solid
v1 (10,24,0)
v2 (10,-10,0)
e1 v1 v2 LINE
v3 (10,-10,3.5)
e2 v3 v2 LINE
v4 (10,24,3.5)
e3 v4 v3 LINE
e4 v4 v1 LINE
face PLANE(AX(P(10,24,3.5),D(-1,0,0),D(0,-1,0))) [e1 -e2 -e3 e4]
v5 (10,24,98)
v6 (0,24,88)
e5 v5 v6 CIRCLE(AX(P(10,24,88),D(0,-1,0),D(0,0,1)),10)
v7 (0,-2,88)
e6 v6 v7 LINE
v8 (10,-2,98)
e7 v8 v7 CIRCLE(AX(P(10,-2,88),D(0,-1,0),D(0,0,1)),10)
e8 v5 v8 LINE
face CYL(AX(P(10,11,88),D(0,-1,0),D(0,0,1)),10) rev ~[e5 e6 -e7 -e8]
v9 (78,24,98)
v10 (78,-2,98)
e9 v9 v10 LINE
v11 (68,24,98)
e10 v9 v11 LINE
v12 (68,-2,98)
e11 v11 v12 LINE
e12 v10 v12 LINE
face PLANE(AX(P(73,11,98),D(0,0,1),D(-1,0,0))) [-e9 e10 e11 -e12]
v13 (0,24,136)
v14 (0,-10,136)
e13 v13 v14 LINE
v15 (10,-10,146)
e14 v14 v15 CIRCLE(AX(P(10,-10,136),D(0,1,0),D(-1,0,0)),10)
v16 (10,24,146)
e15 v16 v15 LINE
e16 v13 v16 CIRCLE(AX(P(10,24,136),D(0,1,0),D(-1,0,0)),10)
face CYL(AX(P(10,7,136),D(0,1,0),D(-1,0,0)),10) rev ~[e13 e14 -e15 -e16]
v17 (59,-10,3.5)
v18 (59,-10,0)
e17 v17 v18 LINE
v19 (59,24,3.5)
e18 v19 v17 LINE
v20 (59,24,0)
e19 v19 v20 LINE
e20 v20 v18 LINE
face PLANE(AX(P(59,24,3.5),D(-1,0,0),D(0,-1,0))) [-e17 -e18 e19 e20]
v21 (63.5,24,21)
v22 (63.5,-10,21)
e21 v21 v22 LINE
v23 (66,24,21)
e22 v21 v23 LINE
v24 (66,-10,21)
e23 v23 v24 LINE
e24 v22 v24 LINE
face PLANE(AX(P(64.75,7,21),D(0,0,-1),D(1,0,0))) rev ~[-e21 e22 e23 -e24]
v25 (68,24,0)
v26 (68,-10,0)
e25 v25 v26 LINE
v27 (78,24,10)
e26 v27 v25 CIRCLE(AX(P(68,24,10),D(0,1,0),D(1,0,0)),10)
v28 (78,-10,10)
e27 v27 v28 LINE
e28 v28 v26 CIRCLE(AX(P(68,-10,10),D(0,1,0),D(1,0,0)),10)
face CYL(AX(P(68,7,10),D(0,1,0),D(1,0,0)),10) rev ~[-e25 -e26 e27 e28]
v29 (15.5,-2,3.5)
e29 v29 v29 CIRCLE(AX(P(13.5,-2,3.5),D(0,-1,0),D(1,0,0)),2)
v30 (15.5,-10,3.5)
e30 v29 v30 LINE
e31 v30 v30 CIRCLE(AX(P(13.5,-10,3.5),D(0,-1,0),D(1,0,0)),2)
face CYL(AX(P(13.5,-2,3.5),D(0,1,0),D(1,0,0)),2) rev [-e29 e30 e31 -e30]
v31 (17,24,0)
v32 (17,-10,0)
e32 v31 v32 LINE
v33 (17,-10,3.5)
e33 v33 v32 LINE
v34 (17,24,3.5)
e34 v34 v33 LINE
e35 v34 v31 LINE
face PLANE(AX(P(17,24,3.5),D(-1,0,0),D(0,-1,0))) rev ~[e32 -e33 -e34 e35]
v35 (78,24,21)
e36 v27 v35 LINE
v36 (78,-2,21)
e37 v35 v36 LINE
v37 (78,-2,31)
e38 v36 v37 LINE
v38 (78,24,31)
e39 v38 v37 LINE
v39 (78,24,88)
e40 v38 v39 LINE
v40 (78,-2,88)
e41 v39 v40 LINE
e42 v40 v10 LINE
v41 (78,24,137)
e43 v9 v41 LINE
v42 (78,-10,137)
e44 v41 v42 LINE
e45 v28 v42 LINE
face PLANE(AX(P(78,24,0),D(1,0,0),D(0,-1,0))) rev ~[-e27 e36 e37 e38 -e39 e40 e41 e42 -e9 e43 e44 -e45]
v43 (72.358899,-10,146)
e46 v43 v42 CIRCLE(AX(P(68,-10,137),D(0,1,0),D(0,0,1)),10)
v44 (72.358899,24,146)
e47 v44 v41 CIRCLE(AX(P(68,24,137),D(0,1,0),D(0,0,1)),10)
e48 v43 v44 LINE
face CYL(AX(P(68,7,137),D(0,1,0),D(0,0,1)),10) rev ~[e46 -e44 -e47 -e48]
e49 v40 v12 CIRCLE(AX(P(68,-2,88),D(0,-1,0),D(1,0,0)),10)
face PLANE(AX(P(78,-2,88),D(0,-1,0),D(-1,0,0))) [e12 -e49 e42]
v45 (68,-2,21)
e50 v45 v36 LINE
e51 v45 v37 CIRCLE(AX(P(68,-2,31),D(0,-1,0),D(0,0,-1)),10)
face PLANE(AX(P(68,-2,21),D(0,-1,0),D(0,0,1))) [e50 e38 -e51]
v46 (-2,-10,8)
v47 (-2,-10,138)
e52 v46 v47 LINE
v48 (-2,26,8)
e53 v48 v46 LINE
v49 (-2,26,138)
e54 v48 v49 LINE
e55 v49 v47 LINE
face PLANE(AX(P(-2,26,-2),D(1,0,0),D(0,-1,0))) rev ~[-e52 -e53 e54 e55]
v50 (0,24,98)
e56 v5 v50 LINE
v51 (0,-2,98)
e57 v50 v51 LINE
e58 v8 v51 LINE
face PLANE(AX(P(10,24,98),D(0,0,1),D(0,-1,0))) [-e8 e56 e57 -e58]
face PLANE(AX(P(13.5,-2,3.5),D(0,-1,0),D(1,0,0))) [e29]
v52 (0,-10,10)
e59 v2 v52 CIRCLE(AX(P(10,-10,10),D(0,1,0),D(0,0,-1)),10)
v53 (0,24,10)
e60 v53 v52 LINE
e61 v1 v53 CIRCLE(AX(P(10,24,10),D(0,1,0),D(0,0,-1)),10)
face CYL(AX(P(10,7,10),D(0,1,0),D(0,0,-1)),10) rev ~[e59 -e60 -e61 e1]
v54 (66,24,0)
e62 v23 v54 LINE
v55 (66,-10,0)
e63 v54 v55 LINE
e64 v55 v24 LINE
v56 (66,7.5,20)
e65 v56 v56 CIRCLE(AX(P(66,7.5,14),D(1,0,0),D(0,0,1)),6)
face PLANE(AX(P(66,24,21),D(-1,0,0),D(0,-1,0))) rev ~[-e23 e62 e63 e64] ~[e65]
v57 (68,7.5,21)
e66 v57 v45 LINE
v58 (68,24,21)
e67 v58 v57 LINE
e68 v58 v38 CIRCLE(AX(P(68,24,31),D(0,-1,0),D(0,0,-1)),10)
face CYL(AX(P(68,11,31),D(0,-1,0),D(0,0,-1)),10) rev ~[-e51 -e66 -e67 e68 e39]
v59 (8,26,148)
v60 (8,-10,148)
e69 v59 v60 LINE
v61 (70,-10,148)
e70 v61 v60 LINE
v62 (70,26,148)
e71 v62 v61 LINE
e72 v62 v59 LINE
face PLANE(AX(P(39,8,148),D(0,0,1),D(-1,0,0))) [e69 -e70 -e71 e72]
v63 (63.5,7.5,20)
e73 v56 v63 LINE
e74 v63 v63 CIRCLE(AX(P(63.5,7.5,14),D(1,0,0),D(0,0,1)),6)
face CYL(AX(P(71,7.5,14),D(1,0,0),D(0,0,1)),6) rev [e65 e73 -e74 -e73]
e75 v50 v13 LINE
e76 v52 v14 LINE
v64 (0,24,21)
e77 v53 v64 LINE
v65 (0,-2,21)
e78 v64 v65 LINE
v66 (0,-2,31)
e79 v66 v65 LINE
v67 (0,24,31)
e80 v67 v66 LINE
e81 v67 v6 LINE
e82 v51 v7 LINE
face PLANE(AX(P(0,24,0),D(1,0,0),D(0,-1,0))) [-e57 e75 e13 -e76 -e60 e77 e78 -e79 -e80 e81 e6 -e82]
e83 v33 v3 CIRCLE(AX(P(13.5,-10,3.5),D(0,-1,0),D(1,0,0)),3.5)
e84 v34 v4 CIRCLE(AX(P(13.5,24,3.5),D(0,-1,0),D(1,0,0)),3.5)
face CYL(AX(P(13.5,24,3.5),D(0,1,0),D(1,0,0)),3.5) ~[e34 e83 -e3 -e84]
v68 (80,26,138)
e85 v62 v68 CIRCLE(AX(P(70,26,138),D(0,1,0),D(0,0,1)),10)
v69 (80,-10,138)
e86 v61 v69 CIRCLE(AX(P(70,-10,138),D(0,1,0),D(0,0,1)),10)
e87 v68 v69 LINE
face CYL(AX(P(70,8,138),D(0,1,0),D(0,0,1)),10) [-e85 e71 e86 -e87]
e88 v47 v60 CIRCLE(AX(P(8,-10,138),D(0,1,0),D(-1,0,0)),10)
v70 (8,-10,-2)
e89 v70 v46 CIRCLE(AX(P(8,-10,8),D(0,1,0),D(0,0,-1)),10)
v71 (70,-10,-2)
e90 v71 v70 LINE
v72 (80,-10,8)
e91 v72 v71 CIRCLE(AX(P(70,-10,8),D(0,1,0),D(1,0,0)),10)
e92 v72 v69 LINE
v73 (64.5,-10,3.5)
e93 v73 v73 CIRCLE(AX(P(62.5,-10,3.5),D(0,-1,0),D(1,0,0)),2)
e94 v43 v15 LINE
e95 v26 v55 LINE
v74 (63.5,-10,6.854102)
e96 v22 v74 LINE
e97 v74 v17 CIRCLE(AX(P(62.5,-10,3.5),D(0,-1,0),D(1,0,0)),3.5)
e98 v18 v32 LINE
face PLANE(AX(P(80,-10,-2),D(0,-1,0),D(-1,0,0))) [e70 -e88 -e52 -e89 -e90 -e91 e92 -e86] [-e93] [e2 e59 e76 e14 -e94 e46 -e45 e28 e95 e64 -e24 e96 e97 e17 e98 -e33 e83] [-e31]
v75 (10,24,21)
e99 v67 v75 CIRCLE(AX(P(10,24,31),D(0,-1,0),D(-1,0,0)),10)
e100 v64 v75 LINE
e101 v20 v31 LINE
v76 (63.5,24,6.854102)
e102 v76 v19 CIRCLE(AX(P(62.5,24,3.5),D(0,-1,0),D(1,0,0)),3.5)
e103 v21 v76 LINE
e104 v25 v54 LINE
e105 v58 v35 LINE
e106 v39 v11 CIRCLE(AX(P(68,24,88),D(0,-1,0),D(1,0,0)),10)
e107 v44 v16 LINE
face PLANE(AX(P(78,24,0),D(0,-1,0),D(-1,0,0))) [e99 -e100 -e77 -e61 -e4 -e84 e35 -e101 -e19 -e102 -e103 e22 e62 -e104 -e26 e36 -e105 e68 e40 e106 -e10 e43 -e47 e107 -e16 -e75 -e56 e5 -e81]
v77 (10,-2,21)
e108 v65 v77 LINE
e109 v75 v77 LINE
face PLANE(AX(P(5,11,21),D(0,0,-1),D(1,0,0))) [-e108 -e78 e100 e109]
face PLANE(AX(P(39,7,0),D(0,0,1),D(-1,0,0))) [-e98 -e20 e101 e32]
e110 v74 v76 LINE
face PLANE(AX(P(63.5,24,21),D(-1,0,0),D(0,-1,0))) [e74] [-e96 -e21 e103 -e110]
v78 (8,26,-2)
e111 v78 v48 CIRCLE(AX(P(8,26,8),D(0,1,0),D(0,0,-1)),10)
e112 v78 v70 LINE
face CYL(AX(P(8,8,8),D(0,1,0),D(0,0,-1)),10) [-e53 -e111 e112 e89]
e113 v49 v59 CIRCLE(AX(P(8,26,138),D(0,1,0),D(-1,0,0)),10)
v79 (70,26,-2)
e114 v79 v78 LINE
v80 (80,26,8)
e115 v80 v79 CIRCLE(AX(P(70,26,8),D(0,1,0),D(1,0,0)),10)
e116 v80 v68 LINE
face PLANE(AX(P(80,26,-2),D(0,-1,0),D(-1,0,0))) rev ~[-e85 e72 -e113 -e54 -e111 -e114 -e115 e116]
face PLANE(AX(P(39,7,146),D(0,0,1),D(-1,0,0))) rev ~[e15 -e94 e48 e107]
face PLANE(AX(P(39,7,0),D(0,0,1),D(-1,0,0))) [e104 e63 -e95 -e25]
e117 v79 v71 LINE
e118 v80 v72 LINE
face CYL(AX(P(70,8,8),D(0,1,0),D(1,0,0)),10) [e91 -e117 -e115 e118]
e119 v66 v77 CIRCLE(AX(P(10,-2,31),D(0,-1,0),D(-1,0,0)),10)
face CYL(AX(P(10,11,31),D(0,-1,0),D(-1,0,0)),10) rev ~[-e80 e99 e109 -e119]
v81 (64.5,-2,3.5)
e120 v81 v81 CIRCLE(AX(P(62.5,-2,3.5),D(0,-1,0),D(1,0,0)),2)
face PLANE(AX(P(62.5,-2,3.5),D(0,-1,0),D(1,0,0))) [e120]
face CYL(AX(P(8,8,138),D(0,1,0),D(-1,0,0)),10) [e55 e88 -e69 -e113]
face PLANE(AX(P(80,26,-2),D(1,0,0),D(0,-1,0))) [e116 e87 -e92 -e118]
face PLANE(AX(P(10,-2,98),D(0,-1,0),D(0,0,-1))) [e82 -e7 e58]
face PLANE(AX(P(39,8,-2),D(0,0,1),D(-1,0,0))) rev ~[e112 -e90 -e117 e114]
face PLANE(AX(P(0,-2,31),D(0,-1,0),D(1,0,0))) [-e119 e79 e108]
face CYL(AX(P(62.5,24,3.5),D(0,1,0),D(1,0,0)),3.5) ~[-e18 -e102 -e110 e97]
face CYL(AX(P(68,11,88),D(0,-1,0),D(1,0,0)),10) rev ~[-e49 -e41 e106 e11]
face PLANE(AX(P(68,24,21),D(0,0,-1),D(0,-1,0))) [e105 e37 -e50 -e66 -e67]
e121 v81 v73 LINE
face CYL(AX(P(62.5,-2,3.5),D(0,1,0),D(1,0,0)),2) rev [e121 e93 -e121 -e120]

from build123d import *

# Parameters (mm, degrees)
CYLINDER022_R             = 2
CYLINDER022_DEPTH         = 8
CYLINDER026_R             = 7
CYLINDER026_DEPTH         = 5
CYLINDER025_R             = 6
CYLINDER025_DEPTH         = 20
FUSION007_PLACEMENT_ANGLE = 270
CYLINDER024_R             = 2
CYLINDER024_DEPTH         = 8
CYLINDER023_R             = 3.5
CYLINDER023_DEPTH         = 34
BOX022_W                  = 7
BOX022_H                  = 34
BOX022_DEPTH              = 3.5
BOX023_W                  = 7
BOX023_H                  = 34
BOX023_DEPTH              = 3.5
BOX024_W                  = 2.5
BOX024_H                  = 34
BOX024_DEPTH              = 17.5
CYLINDER017_W             = 10
CYLINDER017_H             = 26
CYLINDER017_ANGLE         = 90
BOX018_W                  = 10
BOX018_H                  = 26
BOX018_DEPTH              = 10
CUT018_PLACEMENT_ANGLE    = 180
CYLINDER018_W             = 10
CYLINDER018_H             = 26
CYLINDER018_ANGLE         = 90
BOX019_W                  = 10
BOX019_H                  = 26
BOX019_DEPTH              = 10
CUT019_PLACEMENT_ANGLE    = 270
CYLINDER019_W             = 10
CYLINDER019_H             = 26
CYLINDER019_ANGLE         = 90
BOX020_W                  = 10
BOX020_H                  = 26
BOX020_DEPTH              = 10
CYLINDER020_W             = 10
CYLINDER020_H             = 26
CYLINDER020_ANGLE         = 90
BOX021_W                  = 10
BOX021_H                  = 26
BOX021_DEPTH              = 10
CUT021_PLACEMENT_ANGLE    = 270
CYLINDER014_W             = 10
CYLINDER014_H             = 34
CYLINDER014_ANGLE         = 90
BOX015_W                  = 10
BOX015_H                  = 34
BOX015_DEPTH              = 10
CUT013_PLACEMENT_ANGLE    = 180
CYLINDER015_W             = 10
CYLINDER015_H             = 34
CYLINDER015_ANGLE         = 90
BOX016_W                  = 10
BOX016_H                  = 34
BOX016_DEPTH              = 10
CUT014_PLACEMENT_ANGLE    = 180
CYLINDER016_W             = 10
CYLINDER016_H             = 34
CYLINDER016_ANGLE         = 90
BOX017_W                  = 10
BOX017_H                  = 34
BOX017_DEPTH              = 10
CUT015_PITCH_ANGLE        = -90
CUT015_PLACEMENT_ANGLE    = 180
CYLINDER013_W             = 10
CYLINDER013_H             = 34
CYLINDER013_ANGLE         = 90
BOX013_W                  = 10
BOX013_H                  = 34
BOX013_DEPTH              = 10
CUT012_PITCH_ANGLE        = 90
CUT012_PLACEMENT_ANGLE    = -180
BOX014_W                  = 78
BOX014_H                  = 34
BOX014_DEPTH              = 146
CYLINDER009_W             = 10
CYLINDER009_H             = 36
CYLINDER009_ANGLE         = 90
BOX009_W                  = 10
BOX009_H                  = 36
BOX009_DEPTH              = 10
CUT007_PLACEMENT_ANGLE    = 180
CYLINDER010_W             = 10
CYLINDER010_H             = 36
CYLINDER010_ANGLE         = 90
BOX010_W                  = 10
BOX010_H                  = 36
BOX010_DEPTH              = 10
CUT008_PLACEMENT_ANGLE    = 180
CYLINDER011_W             = 10
CYLINDER011_H             = 36
CYLINDER011_ANGLE         = 90
BOX011_W                  = 10
BOX011_H                  = 36
BOX011_DEPTH              = 10
CUT009_PITCH_ANGLE        = -90
CUT009_PLACEMENT_ANGLE    = -180
CYLINDER008_W             = 10
CYLINDER008_H             = 36
CYLINDER008_ANGLE         = 90
BOX007_W                  = 10
BOX007_H                  = 36
BOX007_DEPTH              = 10
CUT006_PITCH_ANGLE        = 90
CUT006_PLACEMENT_ANGLE    = -180
BOX008_W                  = 82
BOX008_H                  = 36
BOX008_DEPTH              = 150
CYLINDER021_R             = 3.5
CYLINDER021_DEPTH         = 34


with BuildPart() as cylinder022:
    # Cylinder022 → Cylinder022 (new body)
    with BuildSketch(Plane(origin=(13.5, -2, 3.5), x_dir=(1, 0, 0), z_dir=(0, -1, 0))):
        Circle(CYLINDER022_R)
    extrude(amount=CYLINDER022_DEPTH)


with BuildPart() as cylinder026:
    # Cylinder026 → Cylinder026 (new body)
    with BuildSketch(Plane.XY):
        Circle(CYLINDER026_R)
    extrude(amount=CYLINDER026_DEPTH)


with BuildPart() as powerswitch:
    # Cylinder025 → Cylinder025 (new body)
    with BuildSketch(Plane.XY):
        Circle(CYLINDER025_R)
    extrude(amount=CYLINDER025_DEPTH)

    # Fusion007: union Cylinder026
    add(cylinder026.part)


with BuildPart() as powerswitch_1:
    # Fusion007 placement: moved
    add(powerswitch.part.moved(Location((71, 7.5, 14))).rotate(Axis((71, 7.5, 14), (0, 1, 0)), FUSION007_PLACEMENT_ANGLE))


with BuildPart() as basecuts:
    # Cylinder024 → Cylinder024 (new body)
    with BuildSketch(Plane(origin=(62.5, -2, 3.5), x_dir=(1, 0, 0), z_dir=(0, -1, 0))):
        Circle(CYLINDER024_R)
    extrude(amount=CYLINDER024_DEPTH)

    # Fusion010: union Cylinder022, powerSwitch
    add(cylinder022.part)
    add(powerswitch_1.part)


with BuildPart() as cylinder023:
    # Cylinder023 → Cylinder023 (new body)
    with BuildSketch(Plane(origin=(62.5, 24, 3.5), x_dir=(1, 0, 0), z_dir=(0, -1, 0))):
        Circle(CYLINDER023_R)
    extrude(amount=CYLINDER023_DEPTH)


with BuildPart() as cube017:
    # Box022 → Box022 (new body)
    with BuildSketch(Plane(origin=(10, 24, 3.5), x_dir=(1, 0, 0), z_dir=(0, 0, -1))):
        with Locations((3.5, 17)):
            Rectangle(BOX022_W, BOX022_H)
    extrude(amount=BOX022_DEPTH)


with BuildPart() as cube018:
    # Box023 → Box023 (new body)
    with BuildSketch(Plane(origin=(59, 24, 3.5), x_dir=(1, 0, 0), z_dir=(0, 0, -1))):
        with Locations((3.5, 17)):
            Rectangle(BOX023_W, BOX023_H)
    extrude(amount=BOX023_DEPTH)


with BuildPart() as cube019:
    # Box024 → Box024 (new body)
    with BuildSketch(Plane(origin=(63.5, 24, 21), x_dir=(1, 0, 0), z_dir=(0, 0, -1))):
        with Locations((1.25, 17)):
            Rectangle(BOX024_W, BOX024_H)
    extrude(amount=BOX024_DEPTH)


with BuildPart() as cylinder017:
    # Cylinder017 → Cylinder017 (revolve)
    with BuildSketch(Plane(origin=(0, 26, 0), x_dir=(1, 0, 0), z_dir=(0, 0, -1))):
        with Locations((5, 13)):
            Rectangle(CYLINDER017_W, CYLINDER017_H)
    revolve(axis=Axis((0, 26, 0), (0, -1, 0)), revolution_arc=CYLINDER017_ANGLE)


with BuildPart() as batterysupport:
    # Box018 → Box018 (new body)
    with BuildSketch(Plane(origin=(10, 26, 0), x_dir=(-1, 0, 0), z_dir=(0, 0, 1))):
        with Locations((5, 13)):
            Rectangle(BOX018_W, BOX018_H)
    extrude(amount=BOX018_DEPTH)

    # Cut018: cut Cylinder017
    add(cylinder017.part, mode=Mode.SUBTRACT)


with BuildPart() as batterysupport_1:
    # Cut018 placement: moved
    add(batterysupport.part.moved(Location((10, -2, 31))).rotate(Axis((10, -2, 31), (0, 1, 0)), CUT018_PLACEMENT_ANGLE))


with BuildPart() as cylinder018:
    # Cylinder018 → Cylinder018 (revolve)
    with BuildSketch(Plane(origin=(0, 26, 0), x_dir=(1, 0, 0), z_dir=(0, 0, -1))):
        with Locations((5, 13)):
            Rectangle(CYLINDER018_W, CYLINDER018_H)
    revolve(axis=Axis((0, 26, 0), (0, -1, 0)), revolution_arc=CYLINDER018_ANGLE)


with BuildPart() as batterysupport001:
    # Box019 → Box019 (new body)
    with BuildSketch(Plane(origin=(10, 26, 0), x_dir=(-1, 0, 0), z_dir=(0, 0, 1))):
        with Locations((5, 13)):
            Rectangle(BOX019_W, BOX019_H)
    extrude(amount=BOX019_DEPTH)

    # Cut019: cut Cylinder018
    add(cylinder018.part, mode=Mode.SUBTRACT)


with BuildPart() as batterysupport001_1:
    # Cut019 placement: moved
    add(batterysupport001.part.moved(Location((68, -2, 31))).rotate(Axis((68, -2, 31), (0, -1, 0)), CUT019_PLACEMENT_ANGLE))


with BuildPart() as cylinder019:
    # Cylinder019 → Cylinder019 (revolve)
    with BuildSketch(Plane(origin=(0, 26, 0), x_dir=(1, 0, 0), z_dir=(0, 0, -1))):
        with Locations((5, 13)):
            Rectangle(CYLINDER019_W, CYLINDER019_H)
    revolve(axis=Axis((0, 26, 0), (0, -1, 0)), revolution_arc=CYLINDER019_ANGLE)


with BuildPart() as batterysupport002:
    # Box020 → Box020 (new body)
    with BuildSketch(Plane(origin=(10, 26, 0), x_dir=(-1, 0, 0), z_dir=(0, 0, 1))):
        with Locations((5, 13)):
            Rectangle(BOX020_W, BOX020_H)
    extrude(amount=BOX020_DEPTH)

    # Cut020: cut Cylinder019
    add(cylinder019.part, mode=Mode.SUBTRACT)


with BuildPart() as batterysupport002_1:
    # Cut020 placement: moved
    add(batterysupport002.part.moved(Location((68, -2, 88))))


with BuildPart() as cylinder020:
    # Cylinder020 → Cylinder020 (revolve)
    with BuildSketch(Plane(origin=(0, 26, 0), x_dir=(1, 0, 0), z_dir=(0, 0, -1))):
        with Locations((5, 13)):
            Rectangle(CYLINDER020_W, CYLINDER020_H)
    revolve(axis=Axis((0, 26, 0), (0, -1, 0)), revolution_arc=CYLINDER020_ANGLE)


with BuildPart() as batterysupport003:
    # Box021 → Box021 (new body)
    with BuildSketch(Plane(origin=(10, 26, 0), x_dir=(-1, 0, 0), z_dir=(0, 0, 1))):
        with Locations((5, 13)):
            Rectangle(BOX021_W, BOX021_H)
    extrude(amount=BOX021_DEPTH)

    # Cut021: cut Cylinder020
    add(cylinder020.part, mode=Mode.SUBTRACT)


with BuildPart() as batterysupport003_1:
    # Cut021 placement: moved
    add(batterysupport003.part.moved(Location((10, -2, 88))).rotate(Axis((10, -2, 88), (0, 1, 0)), CUT021_PLACEMENT_ANGLE))


with BuildPart() as cylinder014:
    # Cylinder014 → Cylinder014 (revolve)
    with BuildSketch(Plane(origin=(0, 26, 0), x_dir=(1, 0, 0), z_dir=(0, 0, -1))):
        with Locations((5, 17)):
            Rectangle(CYLINDER014_W, CYLINDER014_H)
    revolve(axis=Axis((0, 26, 0), (0, -1, 0)), revolution_arc=CYLINDER014_ANGLE)


with BuildPart() as cut013:
    # Box015 → Box015 (new body)
    with BuildSketch(Plane(origin=(0, -8, 0), x_dir=(1, 0, 0), z_dir=(0, 0, 1))):
        with Locations((5, 17)):
            Rectangle(BOX015_W, BOX015_H)
    extrude(amount=BOX015_DEPTH)

    # Cut013: cut Cylinder014
    add(cylinder014.part, mode=Mode.SUBTRACT)


with BuildPart() as cut013_1:
    # Cut013 placement: moved
    add(cut013.part.moved(Location((70, 18, 8))).rotate(Axis((70, 18, 8), (1, 0, 0)), CUT013_PLACEMENT_ANGLE))


with BuildPart() as cylinder015:
    # Cylinder015 → Cylinder015 (revolve)
    with BuildSketch(Plane(origin=(0, 26, 0), x_dir=(1, 0, 0), z_dir=(0, 0, -1))):
        with Locations((5, 17)):
            Rectangle(CYLINDER015_W, CYLINDER015_H)
    revolve(axis=Axis((0, 26, 0), (0, -1, 0)), revolution_arc=CYLINDER015_ANGLE)


with BuildPart() as cut014:
    # Box016 → Box016 (new body)
    with BuildSketch(Plane(origin=(0, -8, 0), x_dir=(1, 0, 0), z_dir=(0, 0, 1))):
        with Locations((5, 17)):
            Rectangle(BOX016_W, BOX016_H)
    extrude(amount=BOX016_DEPTH)

    # Cut014: cut Cylinder015
    add(cylinder015.part, mode=Mode.SUBTRACT)


with BuildPart() as cut014_1:
    # Cut014 placement: moved
    add(cut014.part.moved(Location((12, 18, 134))).rotate(Axis((12, 18, 134), (0, 0, 1)), CUT014_PLACEMENT_ANGLE))


with BuildPart() as cylinder016:
    # Cylinder016 → Cylinder016 (revolve)
    with BuildSketch(Plane(origin=(0, 26, 0), x_dir=(1, 0, 0), z_dir=(0, 0, -1))):
        with Locations((5, 17)):
            Rectangle(CYLINDER016_W, CYLINDER016_H)
    revolve(axis=Axis((0, 26, 0), (0, -1, 0)), revolution_arc=CYLINDER016_ANGLE)


with BuildPart() as cut015:
    # Box017 → Box017 (new body)
    with BuildSketch(Plane(origin=(0, -8, 0), x_dir=(1, 0, 0), z_dir=(0, 0, 1))):
        with Locations((5, 17)):
            Rectangle(BOX017_W, BOX017_H)
    extrude(amount=BOX017_DEPTH)

    # Cut015: cut Cylinder016
    add(cylinder016.part, mode=Mode.SUBTRACT)


with BuildPart() as cut015_1:
    # Cut015 pitch: moved
    add(cut015.part.rotate(Axis((0, 0, 0), (0, 1, 0)), CUT015_PITCH_ANGLE))


with BuildPart() as cut015_2:
    # Cut015 placement: moved
    add(cut015_1.part.moved(Location((70, 18, 135))).rotate(Axis((70, 18, 135), (0, 0, 1)), CUT015_PLACEMENT_ANGLE))


with BuildPart() as cylinder013:
    # Cylinder013 → Cylinder013 (revolve)
    with BuildSketch(Plane(origin=(0, 26, 0), x_dir=(1, 0, 0), z_dir=(0, 0, -1))):
        with Locations((5, 17)):
            Rectangle(CYLINDER013_W, CYLINDER013_H)
    revolve(axis=Axis((0, 26, 0), (0, -1, 0)), revolution_arc=CYLINDER013_ANGLE)


with BuildPart() as fusion006:
    # Box013 → Box013 (new body)
    with BuildSketch(Plane(origin=(0, -8, 0), x_dir=(1, 0, 0), z_dir=(0, 0, 1))):
        with Locations((5, 17)):
            Rectangle(BOX013_W, BOX013_H)
    extrude(amount=BOX013_DEPTH)

    # Cut012: cut Cylinder013
    add(cylinder013.part, mode=Mode.SUBTRACT)


with BuildPart() as fusion006_1:
    # Cut012 pitch: moved
    add(fusion006.part.rotate(Axis((0, 0, 0), (0, 1, 0)), CUT012_PITCH_ANGLE))


with BuildPart() as fusion006_2:
    # Cut012 placement: moved
    add(fusion006_1.part.moved(Location((12, 18, 8))).rotate(Axis((12, 18, 8), (0, 0, 1)), CUT012_PLACEMENT_ANGLE))

    # Fusion006: union Cut013, Cut014, Cut015
    add(cut013_1.part)
    add(cut014_1.part)
    add(cut015_2.part)


with BuildPart() as baseout001:
    # Box014 → Box014 (new body)
    with BuildSketch(Plane(origin=(80, 26, -2), x_dir=(-1, 0, 0), z_dir=(0, 0, 1))):
        with Locations((39, 17)):
            Rectangle(BOX014_W, BOX014_H)
    extrude(amount=BOX014_DEPTH)

    # Cut016: cut Fusion006
    add(fusion006_2.part, mode=Mode.SUBTRACT)


with BuildPart() as baseout001_1:
    # Cut016 placement: moved
    add(baseout001.part.moved(Location((-2, -2, 2))))


with BuildPart() as cylinder009:
    # Cylinder009 → Cylinder009 (revolve)
    with BuildSketch(Plane(origin=(0, 26, 0), x_dir=(1, 0, 0), z_dir=(0, 0, -1))):
        with Locations((5, 18)):
            Rectangle(CYLINDER009_W, CYLINDER009_H)
    revolve(axis=Axis((0, 26, 0), (0, -1, 0)), revolution_arc=CYLINDER009_ANGLE)


with BuildPart() as cut007:
    # Box009 → Box009 (new body)
    with BuildSketch(Plane(origin=(0, -10, 0), x_dir=(1, 0, 0), z_dir=(0, 0, 1))):
        with Locations((5, 18)):
            Rectangle(BOX009_W, BOX009_H)
    extrude(amount=BOX009_DEPTH)

    # Cut007: cut Cylinder009
    add(cylinder009.part, mode=Mode.SUBTRACT)


with BuildPart() as cut007_1:
    # Cut007 placement: moved
    add(cut007.part.moved(Location((70, 18, 8))).rotate(Axis((70, 18, 8), (1, 0, 0)), CUT007_PLACEMENT_ANGLE))


with BuildPart() as cylinder010:
    # Cylinder010 → Cylinder010 (revolve)
    with BuildSketch(Plane(origin=(0, 26, 0), x_dir=(1, 0, 0), z_dir=(0, 0, -1))):
        with Locations((5, 18)):
            Rectangle(CYLINDER010_W, CYLINDER010_H)
    revolve(axis=Axis((0, 26, 0), (0, -1, 0)), revolution_arc=CYLINDER010_ANGLE)


with BuildPart() as cut008:
    # Box010 → Box010 (new body)
    with BuildSketch(Plane(origin=(0, -10, 0), x_dir=(1, 0, 0), z_dir=(0, 0, 1))):
        with Locations((5, 18)):
            Rectangle(BOX010_W, BOX010_H)
    extrude(amount=BOX010_DEPTH)

    # Cut008: cut Cylinder010
    add(cylinder010.part, mode=Mode.SUBTRACT)


with BuildPart() as cut008_1:
    # Cut008 placement: moved
    add(cut008.part.moved(Location((8, 18, 138))).rotate(Axis((8, 18, 138), (0, 0, 1)), CUT008_PLACEMENT_ANGLE))


with BuildPart() as cylinder011:
    # Cylinder011 → Cylinder011 (revolve)
    with BuildSketch(Plane(origin=(0, 26, 0), x_dir=(1, 0, 0), z_dir=(0, 0, -1))):
        with Locations((5, 18)):
            Rectangle(CYLINDER011_W, CYLINDER011_H)
    revolve(axis=Axis((0, 26, 0), (0, -1, 0)), revolution_arc=CYLINDER011_ANGLE)


with BuildPart() as cut009:
    # Box011 → Box011 (new body)
    with BuildSketch(Plane(origin=(0, -10, 0), x_dir=(1, 0, 0), z_dir=(0, 0, 1))):
        with Locations((5, 18)):
            Rectangle(BOX011_W, BOX011_H)
    extrude(amount=BOX011_DEPTH)

    # Cut009: cut Cylinder011
    add(cylinder011.part, mode=Mode.SUBTRACT)


with BuildPart() as cut009_1:
    # Cut009 pitch: moved
    add(cut009.part.rotate(Axis((0, 0, 0), (0, 1, 0)), CUT009_PITCH_ANGLE))


with BuildPart() as cut009_2:
    # Cut009 placement: moved
    add(cut009_1.part.moved(Location((70, 18, 138))).rotate(Axis((70, 18, 138), (0, 0, 1)), CUT009_PLACEMENT_ANGLE))


with BuildPart() as cylinder008:
    # Cylinder008 → Cylinder008 (revolve)
    with BuildSketch(Plane(origin=(0, 26, 0), x_dir=(1, 0, 0), z_dir=(0, 0, -1))):
        with Locations((5, 18)):
            Rectangle(CYLINDER008_W, CYLINDER008_H)
    revolve(axis=Axis((0, 26, 0), (0, -1, 0)), revolution_arc=CYLINDER008_ANGLE)


with BuildPart() as fusion005:
    # Box007 → Box007 (new body)
    with BuildSketch(Plane(origin=(0, -10, 0), x_dir=(1, 0, 0), z_dir=(0, 0, 1))):
        with Locations((5, 18)):
            Rectangle(BOX007_W, BOX007_H)
    extrude(amount=BOX007_DEPTH)

    # Cut006: cut Cylinder008
    add(cylinder008.part, mode=Mode.SUBTRACT)


with BuildPart() as fusion005_1:
    # Cut006 pitch: moved
    add(fusion005.part.rotate(Axis((0, 0, 0), (0, 1, 0)), CUT006_PITCH_ANGLE))


with BuildPart() as fusion005_2:
    # Cut006 placement: moved
    add(fusion005_1.part.moved(Location((8, 18, 8))).rotate(Axis((8, 18, 8), (0, 0, 1)), CUT006_PLACEMENT_ANGLE))

    # Fusion005: union Cut007, Cut008, Cut009
    add(cut007_1.part)
    add(cut008_1.part)
    add(cut009_2.part)


with BuildPart() as fusion005_3:
    # Fusion005 placement: moved
    add(fusion005_2.part.moved(Location((0, -2, 0))))


with BuildPart() as base:
    # Box008 → Box008 (new body)
    with BuildSketch(Plane(origin=(80, 26, -2), x_dir=(-1, 0, 0), z_dir=(0, 0, 1))):
        with Locations((41, 18)):
            Rectangle(BOX008_W, BOX008_H)
    extrude(amount=BOX008_DEPTH)

    # Cut010: cut Fusion005
    add(fusion005_3.part, mode=Mode.SUBTRACT)

    # Cut017: cut BaseOut001
    add(baseout001_1.part, mode=Mode.SUBTRACT)

    # Fusion008: union batterySupport, batterySupport001, batterySupport002, batterySupport003
    add(batterysupport_1.part)
    add(batterysupport001_1.part)
    add(batterysupport002_1.part)
    add(batterysupport003_1.part)


with BuildPart() as basecuts001:
    # Cylinder021 → Cylinder021 (new body)
    with BuildSketch(Plane(origin=(13.5, 24, 3.5), x_dir=(1, 0, 0), z_dir=(0, -1, 0))):
        Circle(CYLINDER021_R)
    extrude(amount=CYLINDER021_DEPTH)

    # Fusion009: union Cylinder023, Cube017, Cube018, Cube019, base
    add(cylinder023.part)
    add(cube017.part)
    add(cube018.part)
    add(cube019.part)
    add(base.part)

    # Cut022: cut baseCuts
    add(basecuts.part, mode=Mode.SUBTRACT)


solid = basecuts001.part
